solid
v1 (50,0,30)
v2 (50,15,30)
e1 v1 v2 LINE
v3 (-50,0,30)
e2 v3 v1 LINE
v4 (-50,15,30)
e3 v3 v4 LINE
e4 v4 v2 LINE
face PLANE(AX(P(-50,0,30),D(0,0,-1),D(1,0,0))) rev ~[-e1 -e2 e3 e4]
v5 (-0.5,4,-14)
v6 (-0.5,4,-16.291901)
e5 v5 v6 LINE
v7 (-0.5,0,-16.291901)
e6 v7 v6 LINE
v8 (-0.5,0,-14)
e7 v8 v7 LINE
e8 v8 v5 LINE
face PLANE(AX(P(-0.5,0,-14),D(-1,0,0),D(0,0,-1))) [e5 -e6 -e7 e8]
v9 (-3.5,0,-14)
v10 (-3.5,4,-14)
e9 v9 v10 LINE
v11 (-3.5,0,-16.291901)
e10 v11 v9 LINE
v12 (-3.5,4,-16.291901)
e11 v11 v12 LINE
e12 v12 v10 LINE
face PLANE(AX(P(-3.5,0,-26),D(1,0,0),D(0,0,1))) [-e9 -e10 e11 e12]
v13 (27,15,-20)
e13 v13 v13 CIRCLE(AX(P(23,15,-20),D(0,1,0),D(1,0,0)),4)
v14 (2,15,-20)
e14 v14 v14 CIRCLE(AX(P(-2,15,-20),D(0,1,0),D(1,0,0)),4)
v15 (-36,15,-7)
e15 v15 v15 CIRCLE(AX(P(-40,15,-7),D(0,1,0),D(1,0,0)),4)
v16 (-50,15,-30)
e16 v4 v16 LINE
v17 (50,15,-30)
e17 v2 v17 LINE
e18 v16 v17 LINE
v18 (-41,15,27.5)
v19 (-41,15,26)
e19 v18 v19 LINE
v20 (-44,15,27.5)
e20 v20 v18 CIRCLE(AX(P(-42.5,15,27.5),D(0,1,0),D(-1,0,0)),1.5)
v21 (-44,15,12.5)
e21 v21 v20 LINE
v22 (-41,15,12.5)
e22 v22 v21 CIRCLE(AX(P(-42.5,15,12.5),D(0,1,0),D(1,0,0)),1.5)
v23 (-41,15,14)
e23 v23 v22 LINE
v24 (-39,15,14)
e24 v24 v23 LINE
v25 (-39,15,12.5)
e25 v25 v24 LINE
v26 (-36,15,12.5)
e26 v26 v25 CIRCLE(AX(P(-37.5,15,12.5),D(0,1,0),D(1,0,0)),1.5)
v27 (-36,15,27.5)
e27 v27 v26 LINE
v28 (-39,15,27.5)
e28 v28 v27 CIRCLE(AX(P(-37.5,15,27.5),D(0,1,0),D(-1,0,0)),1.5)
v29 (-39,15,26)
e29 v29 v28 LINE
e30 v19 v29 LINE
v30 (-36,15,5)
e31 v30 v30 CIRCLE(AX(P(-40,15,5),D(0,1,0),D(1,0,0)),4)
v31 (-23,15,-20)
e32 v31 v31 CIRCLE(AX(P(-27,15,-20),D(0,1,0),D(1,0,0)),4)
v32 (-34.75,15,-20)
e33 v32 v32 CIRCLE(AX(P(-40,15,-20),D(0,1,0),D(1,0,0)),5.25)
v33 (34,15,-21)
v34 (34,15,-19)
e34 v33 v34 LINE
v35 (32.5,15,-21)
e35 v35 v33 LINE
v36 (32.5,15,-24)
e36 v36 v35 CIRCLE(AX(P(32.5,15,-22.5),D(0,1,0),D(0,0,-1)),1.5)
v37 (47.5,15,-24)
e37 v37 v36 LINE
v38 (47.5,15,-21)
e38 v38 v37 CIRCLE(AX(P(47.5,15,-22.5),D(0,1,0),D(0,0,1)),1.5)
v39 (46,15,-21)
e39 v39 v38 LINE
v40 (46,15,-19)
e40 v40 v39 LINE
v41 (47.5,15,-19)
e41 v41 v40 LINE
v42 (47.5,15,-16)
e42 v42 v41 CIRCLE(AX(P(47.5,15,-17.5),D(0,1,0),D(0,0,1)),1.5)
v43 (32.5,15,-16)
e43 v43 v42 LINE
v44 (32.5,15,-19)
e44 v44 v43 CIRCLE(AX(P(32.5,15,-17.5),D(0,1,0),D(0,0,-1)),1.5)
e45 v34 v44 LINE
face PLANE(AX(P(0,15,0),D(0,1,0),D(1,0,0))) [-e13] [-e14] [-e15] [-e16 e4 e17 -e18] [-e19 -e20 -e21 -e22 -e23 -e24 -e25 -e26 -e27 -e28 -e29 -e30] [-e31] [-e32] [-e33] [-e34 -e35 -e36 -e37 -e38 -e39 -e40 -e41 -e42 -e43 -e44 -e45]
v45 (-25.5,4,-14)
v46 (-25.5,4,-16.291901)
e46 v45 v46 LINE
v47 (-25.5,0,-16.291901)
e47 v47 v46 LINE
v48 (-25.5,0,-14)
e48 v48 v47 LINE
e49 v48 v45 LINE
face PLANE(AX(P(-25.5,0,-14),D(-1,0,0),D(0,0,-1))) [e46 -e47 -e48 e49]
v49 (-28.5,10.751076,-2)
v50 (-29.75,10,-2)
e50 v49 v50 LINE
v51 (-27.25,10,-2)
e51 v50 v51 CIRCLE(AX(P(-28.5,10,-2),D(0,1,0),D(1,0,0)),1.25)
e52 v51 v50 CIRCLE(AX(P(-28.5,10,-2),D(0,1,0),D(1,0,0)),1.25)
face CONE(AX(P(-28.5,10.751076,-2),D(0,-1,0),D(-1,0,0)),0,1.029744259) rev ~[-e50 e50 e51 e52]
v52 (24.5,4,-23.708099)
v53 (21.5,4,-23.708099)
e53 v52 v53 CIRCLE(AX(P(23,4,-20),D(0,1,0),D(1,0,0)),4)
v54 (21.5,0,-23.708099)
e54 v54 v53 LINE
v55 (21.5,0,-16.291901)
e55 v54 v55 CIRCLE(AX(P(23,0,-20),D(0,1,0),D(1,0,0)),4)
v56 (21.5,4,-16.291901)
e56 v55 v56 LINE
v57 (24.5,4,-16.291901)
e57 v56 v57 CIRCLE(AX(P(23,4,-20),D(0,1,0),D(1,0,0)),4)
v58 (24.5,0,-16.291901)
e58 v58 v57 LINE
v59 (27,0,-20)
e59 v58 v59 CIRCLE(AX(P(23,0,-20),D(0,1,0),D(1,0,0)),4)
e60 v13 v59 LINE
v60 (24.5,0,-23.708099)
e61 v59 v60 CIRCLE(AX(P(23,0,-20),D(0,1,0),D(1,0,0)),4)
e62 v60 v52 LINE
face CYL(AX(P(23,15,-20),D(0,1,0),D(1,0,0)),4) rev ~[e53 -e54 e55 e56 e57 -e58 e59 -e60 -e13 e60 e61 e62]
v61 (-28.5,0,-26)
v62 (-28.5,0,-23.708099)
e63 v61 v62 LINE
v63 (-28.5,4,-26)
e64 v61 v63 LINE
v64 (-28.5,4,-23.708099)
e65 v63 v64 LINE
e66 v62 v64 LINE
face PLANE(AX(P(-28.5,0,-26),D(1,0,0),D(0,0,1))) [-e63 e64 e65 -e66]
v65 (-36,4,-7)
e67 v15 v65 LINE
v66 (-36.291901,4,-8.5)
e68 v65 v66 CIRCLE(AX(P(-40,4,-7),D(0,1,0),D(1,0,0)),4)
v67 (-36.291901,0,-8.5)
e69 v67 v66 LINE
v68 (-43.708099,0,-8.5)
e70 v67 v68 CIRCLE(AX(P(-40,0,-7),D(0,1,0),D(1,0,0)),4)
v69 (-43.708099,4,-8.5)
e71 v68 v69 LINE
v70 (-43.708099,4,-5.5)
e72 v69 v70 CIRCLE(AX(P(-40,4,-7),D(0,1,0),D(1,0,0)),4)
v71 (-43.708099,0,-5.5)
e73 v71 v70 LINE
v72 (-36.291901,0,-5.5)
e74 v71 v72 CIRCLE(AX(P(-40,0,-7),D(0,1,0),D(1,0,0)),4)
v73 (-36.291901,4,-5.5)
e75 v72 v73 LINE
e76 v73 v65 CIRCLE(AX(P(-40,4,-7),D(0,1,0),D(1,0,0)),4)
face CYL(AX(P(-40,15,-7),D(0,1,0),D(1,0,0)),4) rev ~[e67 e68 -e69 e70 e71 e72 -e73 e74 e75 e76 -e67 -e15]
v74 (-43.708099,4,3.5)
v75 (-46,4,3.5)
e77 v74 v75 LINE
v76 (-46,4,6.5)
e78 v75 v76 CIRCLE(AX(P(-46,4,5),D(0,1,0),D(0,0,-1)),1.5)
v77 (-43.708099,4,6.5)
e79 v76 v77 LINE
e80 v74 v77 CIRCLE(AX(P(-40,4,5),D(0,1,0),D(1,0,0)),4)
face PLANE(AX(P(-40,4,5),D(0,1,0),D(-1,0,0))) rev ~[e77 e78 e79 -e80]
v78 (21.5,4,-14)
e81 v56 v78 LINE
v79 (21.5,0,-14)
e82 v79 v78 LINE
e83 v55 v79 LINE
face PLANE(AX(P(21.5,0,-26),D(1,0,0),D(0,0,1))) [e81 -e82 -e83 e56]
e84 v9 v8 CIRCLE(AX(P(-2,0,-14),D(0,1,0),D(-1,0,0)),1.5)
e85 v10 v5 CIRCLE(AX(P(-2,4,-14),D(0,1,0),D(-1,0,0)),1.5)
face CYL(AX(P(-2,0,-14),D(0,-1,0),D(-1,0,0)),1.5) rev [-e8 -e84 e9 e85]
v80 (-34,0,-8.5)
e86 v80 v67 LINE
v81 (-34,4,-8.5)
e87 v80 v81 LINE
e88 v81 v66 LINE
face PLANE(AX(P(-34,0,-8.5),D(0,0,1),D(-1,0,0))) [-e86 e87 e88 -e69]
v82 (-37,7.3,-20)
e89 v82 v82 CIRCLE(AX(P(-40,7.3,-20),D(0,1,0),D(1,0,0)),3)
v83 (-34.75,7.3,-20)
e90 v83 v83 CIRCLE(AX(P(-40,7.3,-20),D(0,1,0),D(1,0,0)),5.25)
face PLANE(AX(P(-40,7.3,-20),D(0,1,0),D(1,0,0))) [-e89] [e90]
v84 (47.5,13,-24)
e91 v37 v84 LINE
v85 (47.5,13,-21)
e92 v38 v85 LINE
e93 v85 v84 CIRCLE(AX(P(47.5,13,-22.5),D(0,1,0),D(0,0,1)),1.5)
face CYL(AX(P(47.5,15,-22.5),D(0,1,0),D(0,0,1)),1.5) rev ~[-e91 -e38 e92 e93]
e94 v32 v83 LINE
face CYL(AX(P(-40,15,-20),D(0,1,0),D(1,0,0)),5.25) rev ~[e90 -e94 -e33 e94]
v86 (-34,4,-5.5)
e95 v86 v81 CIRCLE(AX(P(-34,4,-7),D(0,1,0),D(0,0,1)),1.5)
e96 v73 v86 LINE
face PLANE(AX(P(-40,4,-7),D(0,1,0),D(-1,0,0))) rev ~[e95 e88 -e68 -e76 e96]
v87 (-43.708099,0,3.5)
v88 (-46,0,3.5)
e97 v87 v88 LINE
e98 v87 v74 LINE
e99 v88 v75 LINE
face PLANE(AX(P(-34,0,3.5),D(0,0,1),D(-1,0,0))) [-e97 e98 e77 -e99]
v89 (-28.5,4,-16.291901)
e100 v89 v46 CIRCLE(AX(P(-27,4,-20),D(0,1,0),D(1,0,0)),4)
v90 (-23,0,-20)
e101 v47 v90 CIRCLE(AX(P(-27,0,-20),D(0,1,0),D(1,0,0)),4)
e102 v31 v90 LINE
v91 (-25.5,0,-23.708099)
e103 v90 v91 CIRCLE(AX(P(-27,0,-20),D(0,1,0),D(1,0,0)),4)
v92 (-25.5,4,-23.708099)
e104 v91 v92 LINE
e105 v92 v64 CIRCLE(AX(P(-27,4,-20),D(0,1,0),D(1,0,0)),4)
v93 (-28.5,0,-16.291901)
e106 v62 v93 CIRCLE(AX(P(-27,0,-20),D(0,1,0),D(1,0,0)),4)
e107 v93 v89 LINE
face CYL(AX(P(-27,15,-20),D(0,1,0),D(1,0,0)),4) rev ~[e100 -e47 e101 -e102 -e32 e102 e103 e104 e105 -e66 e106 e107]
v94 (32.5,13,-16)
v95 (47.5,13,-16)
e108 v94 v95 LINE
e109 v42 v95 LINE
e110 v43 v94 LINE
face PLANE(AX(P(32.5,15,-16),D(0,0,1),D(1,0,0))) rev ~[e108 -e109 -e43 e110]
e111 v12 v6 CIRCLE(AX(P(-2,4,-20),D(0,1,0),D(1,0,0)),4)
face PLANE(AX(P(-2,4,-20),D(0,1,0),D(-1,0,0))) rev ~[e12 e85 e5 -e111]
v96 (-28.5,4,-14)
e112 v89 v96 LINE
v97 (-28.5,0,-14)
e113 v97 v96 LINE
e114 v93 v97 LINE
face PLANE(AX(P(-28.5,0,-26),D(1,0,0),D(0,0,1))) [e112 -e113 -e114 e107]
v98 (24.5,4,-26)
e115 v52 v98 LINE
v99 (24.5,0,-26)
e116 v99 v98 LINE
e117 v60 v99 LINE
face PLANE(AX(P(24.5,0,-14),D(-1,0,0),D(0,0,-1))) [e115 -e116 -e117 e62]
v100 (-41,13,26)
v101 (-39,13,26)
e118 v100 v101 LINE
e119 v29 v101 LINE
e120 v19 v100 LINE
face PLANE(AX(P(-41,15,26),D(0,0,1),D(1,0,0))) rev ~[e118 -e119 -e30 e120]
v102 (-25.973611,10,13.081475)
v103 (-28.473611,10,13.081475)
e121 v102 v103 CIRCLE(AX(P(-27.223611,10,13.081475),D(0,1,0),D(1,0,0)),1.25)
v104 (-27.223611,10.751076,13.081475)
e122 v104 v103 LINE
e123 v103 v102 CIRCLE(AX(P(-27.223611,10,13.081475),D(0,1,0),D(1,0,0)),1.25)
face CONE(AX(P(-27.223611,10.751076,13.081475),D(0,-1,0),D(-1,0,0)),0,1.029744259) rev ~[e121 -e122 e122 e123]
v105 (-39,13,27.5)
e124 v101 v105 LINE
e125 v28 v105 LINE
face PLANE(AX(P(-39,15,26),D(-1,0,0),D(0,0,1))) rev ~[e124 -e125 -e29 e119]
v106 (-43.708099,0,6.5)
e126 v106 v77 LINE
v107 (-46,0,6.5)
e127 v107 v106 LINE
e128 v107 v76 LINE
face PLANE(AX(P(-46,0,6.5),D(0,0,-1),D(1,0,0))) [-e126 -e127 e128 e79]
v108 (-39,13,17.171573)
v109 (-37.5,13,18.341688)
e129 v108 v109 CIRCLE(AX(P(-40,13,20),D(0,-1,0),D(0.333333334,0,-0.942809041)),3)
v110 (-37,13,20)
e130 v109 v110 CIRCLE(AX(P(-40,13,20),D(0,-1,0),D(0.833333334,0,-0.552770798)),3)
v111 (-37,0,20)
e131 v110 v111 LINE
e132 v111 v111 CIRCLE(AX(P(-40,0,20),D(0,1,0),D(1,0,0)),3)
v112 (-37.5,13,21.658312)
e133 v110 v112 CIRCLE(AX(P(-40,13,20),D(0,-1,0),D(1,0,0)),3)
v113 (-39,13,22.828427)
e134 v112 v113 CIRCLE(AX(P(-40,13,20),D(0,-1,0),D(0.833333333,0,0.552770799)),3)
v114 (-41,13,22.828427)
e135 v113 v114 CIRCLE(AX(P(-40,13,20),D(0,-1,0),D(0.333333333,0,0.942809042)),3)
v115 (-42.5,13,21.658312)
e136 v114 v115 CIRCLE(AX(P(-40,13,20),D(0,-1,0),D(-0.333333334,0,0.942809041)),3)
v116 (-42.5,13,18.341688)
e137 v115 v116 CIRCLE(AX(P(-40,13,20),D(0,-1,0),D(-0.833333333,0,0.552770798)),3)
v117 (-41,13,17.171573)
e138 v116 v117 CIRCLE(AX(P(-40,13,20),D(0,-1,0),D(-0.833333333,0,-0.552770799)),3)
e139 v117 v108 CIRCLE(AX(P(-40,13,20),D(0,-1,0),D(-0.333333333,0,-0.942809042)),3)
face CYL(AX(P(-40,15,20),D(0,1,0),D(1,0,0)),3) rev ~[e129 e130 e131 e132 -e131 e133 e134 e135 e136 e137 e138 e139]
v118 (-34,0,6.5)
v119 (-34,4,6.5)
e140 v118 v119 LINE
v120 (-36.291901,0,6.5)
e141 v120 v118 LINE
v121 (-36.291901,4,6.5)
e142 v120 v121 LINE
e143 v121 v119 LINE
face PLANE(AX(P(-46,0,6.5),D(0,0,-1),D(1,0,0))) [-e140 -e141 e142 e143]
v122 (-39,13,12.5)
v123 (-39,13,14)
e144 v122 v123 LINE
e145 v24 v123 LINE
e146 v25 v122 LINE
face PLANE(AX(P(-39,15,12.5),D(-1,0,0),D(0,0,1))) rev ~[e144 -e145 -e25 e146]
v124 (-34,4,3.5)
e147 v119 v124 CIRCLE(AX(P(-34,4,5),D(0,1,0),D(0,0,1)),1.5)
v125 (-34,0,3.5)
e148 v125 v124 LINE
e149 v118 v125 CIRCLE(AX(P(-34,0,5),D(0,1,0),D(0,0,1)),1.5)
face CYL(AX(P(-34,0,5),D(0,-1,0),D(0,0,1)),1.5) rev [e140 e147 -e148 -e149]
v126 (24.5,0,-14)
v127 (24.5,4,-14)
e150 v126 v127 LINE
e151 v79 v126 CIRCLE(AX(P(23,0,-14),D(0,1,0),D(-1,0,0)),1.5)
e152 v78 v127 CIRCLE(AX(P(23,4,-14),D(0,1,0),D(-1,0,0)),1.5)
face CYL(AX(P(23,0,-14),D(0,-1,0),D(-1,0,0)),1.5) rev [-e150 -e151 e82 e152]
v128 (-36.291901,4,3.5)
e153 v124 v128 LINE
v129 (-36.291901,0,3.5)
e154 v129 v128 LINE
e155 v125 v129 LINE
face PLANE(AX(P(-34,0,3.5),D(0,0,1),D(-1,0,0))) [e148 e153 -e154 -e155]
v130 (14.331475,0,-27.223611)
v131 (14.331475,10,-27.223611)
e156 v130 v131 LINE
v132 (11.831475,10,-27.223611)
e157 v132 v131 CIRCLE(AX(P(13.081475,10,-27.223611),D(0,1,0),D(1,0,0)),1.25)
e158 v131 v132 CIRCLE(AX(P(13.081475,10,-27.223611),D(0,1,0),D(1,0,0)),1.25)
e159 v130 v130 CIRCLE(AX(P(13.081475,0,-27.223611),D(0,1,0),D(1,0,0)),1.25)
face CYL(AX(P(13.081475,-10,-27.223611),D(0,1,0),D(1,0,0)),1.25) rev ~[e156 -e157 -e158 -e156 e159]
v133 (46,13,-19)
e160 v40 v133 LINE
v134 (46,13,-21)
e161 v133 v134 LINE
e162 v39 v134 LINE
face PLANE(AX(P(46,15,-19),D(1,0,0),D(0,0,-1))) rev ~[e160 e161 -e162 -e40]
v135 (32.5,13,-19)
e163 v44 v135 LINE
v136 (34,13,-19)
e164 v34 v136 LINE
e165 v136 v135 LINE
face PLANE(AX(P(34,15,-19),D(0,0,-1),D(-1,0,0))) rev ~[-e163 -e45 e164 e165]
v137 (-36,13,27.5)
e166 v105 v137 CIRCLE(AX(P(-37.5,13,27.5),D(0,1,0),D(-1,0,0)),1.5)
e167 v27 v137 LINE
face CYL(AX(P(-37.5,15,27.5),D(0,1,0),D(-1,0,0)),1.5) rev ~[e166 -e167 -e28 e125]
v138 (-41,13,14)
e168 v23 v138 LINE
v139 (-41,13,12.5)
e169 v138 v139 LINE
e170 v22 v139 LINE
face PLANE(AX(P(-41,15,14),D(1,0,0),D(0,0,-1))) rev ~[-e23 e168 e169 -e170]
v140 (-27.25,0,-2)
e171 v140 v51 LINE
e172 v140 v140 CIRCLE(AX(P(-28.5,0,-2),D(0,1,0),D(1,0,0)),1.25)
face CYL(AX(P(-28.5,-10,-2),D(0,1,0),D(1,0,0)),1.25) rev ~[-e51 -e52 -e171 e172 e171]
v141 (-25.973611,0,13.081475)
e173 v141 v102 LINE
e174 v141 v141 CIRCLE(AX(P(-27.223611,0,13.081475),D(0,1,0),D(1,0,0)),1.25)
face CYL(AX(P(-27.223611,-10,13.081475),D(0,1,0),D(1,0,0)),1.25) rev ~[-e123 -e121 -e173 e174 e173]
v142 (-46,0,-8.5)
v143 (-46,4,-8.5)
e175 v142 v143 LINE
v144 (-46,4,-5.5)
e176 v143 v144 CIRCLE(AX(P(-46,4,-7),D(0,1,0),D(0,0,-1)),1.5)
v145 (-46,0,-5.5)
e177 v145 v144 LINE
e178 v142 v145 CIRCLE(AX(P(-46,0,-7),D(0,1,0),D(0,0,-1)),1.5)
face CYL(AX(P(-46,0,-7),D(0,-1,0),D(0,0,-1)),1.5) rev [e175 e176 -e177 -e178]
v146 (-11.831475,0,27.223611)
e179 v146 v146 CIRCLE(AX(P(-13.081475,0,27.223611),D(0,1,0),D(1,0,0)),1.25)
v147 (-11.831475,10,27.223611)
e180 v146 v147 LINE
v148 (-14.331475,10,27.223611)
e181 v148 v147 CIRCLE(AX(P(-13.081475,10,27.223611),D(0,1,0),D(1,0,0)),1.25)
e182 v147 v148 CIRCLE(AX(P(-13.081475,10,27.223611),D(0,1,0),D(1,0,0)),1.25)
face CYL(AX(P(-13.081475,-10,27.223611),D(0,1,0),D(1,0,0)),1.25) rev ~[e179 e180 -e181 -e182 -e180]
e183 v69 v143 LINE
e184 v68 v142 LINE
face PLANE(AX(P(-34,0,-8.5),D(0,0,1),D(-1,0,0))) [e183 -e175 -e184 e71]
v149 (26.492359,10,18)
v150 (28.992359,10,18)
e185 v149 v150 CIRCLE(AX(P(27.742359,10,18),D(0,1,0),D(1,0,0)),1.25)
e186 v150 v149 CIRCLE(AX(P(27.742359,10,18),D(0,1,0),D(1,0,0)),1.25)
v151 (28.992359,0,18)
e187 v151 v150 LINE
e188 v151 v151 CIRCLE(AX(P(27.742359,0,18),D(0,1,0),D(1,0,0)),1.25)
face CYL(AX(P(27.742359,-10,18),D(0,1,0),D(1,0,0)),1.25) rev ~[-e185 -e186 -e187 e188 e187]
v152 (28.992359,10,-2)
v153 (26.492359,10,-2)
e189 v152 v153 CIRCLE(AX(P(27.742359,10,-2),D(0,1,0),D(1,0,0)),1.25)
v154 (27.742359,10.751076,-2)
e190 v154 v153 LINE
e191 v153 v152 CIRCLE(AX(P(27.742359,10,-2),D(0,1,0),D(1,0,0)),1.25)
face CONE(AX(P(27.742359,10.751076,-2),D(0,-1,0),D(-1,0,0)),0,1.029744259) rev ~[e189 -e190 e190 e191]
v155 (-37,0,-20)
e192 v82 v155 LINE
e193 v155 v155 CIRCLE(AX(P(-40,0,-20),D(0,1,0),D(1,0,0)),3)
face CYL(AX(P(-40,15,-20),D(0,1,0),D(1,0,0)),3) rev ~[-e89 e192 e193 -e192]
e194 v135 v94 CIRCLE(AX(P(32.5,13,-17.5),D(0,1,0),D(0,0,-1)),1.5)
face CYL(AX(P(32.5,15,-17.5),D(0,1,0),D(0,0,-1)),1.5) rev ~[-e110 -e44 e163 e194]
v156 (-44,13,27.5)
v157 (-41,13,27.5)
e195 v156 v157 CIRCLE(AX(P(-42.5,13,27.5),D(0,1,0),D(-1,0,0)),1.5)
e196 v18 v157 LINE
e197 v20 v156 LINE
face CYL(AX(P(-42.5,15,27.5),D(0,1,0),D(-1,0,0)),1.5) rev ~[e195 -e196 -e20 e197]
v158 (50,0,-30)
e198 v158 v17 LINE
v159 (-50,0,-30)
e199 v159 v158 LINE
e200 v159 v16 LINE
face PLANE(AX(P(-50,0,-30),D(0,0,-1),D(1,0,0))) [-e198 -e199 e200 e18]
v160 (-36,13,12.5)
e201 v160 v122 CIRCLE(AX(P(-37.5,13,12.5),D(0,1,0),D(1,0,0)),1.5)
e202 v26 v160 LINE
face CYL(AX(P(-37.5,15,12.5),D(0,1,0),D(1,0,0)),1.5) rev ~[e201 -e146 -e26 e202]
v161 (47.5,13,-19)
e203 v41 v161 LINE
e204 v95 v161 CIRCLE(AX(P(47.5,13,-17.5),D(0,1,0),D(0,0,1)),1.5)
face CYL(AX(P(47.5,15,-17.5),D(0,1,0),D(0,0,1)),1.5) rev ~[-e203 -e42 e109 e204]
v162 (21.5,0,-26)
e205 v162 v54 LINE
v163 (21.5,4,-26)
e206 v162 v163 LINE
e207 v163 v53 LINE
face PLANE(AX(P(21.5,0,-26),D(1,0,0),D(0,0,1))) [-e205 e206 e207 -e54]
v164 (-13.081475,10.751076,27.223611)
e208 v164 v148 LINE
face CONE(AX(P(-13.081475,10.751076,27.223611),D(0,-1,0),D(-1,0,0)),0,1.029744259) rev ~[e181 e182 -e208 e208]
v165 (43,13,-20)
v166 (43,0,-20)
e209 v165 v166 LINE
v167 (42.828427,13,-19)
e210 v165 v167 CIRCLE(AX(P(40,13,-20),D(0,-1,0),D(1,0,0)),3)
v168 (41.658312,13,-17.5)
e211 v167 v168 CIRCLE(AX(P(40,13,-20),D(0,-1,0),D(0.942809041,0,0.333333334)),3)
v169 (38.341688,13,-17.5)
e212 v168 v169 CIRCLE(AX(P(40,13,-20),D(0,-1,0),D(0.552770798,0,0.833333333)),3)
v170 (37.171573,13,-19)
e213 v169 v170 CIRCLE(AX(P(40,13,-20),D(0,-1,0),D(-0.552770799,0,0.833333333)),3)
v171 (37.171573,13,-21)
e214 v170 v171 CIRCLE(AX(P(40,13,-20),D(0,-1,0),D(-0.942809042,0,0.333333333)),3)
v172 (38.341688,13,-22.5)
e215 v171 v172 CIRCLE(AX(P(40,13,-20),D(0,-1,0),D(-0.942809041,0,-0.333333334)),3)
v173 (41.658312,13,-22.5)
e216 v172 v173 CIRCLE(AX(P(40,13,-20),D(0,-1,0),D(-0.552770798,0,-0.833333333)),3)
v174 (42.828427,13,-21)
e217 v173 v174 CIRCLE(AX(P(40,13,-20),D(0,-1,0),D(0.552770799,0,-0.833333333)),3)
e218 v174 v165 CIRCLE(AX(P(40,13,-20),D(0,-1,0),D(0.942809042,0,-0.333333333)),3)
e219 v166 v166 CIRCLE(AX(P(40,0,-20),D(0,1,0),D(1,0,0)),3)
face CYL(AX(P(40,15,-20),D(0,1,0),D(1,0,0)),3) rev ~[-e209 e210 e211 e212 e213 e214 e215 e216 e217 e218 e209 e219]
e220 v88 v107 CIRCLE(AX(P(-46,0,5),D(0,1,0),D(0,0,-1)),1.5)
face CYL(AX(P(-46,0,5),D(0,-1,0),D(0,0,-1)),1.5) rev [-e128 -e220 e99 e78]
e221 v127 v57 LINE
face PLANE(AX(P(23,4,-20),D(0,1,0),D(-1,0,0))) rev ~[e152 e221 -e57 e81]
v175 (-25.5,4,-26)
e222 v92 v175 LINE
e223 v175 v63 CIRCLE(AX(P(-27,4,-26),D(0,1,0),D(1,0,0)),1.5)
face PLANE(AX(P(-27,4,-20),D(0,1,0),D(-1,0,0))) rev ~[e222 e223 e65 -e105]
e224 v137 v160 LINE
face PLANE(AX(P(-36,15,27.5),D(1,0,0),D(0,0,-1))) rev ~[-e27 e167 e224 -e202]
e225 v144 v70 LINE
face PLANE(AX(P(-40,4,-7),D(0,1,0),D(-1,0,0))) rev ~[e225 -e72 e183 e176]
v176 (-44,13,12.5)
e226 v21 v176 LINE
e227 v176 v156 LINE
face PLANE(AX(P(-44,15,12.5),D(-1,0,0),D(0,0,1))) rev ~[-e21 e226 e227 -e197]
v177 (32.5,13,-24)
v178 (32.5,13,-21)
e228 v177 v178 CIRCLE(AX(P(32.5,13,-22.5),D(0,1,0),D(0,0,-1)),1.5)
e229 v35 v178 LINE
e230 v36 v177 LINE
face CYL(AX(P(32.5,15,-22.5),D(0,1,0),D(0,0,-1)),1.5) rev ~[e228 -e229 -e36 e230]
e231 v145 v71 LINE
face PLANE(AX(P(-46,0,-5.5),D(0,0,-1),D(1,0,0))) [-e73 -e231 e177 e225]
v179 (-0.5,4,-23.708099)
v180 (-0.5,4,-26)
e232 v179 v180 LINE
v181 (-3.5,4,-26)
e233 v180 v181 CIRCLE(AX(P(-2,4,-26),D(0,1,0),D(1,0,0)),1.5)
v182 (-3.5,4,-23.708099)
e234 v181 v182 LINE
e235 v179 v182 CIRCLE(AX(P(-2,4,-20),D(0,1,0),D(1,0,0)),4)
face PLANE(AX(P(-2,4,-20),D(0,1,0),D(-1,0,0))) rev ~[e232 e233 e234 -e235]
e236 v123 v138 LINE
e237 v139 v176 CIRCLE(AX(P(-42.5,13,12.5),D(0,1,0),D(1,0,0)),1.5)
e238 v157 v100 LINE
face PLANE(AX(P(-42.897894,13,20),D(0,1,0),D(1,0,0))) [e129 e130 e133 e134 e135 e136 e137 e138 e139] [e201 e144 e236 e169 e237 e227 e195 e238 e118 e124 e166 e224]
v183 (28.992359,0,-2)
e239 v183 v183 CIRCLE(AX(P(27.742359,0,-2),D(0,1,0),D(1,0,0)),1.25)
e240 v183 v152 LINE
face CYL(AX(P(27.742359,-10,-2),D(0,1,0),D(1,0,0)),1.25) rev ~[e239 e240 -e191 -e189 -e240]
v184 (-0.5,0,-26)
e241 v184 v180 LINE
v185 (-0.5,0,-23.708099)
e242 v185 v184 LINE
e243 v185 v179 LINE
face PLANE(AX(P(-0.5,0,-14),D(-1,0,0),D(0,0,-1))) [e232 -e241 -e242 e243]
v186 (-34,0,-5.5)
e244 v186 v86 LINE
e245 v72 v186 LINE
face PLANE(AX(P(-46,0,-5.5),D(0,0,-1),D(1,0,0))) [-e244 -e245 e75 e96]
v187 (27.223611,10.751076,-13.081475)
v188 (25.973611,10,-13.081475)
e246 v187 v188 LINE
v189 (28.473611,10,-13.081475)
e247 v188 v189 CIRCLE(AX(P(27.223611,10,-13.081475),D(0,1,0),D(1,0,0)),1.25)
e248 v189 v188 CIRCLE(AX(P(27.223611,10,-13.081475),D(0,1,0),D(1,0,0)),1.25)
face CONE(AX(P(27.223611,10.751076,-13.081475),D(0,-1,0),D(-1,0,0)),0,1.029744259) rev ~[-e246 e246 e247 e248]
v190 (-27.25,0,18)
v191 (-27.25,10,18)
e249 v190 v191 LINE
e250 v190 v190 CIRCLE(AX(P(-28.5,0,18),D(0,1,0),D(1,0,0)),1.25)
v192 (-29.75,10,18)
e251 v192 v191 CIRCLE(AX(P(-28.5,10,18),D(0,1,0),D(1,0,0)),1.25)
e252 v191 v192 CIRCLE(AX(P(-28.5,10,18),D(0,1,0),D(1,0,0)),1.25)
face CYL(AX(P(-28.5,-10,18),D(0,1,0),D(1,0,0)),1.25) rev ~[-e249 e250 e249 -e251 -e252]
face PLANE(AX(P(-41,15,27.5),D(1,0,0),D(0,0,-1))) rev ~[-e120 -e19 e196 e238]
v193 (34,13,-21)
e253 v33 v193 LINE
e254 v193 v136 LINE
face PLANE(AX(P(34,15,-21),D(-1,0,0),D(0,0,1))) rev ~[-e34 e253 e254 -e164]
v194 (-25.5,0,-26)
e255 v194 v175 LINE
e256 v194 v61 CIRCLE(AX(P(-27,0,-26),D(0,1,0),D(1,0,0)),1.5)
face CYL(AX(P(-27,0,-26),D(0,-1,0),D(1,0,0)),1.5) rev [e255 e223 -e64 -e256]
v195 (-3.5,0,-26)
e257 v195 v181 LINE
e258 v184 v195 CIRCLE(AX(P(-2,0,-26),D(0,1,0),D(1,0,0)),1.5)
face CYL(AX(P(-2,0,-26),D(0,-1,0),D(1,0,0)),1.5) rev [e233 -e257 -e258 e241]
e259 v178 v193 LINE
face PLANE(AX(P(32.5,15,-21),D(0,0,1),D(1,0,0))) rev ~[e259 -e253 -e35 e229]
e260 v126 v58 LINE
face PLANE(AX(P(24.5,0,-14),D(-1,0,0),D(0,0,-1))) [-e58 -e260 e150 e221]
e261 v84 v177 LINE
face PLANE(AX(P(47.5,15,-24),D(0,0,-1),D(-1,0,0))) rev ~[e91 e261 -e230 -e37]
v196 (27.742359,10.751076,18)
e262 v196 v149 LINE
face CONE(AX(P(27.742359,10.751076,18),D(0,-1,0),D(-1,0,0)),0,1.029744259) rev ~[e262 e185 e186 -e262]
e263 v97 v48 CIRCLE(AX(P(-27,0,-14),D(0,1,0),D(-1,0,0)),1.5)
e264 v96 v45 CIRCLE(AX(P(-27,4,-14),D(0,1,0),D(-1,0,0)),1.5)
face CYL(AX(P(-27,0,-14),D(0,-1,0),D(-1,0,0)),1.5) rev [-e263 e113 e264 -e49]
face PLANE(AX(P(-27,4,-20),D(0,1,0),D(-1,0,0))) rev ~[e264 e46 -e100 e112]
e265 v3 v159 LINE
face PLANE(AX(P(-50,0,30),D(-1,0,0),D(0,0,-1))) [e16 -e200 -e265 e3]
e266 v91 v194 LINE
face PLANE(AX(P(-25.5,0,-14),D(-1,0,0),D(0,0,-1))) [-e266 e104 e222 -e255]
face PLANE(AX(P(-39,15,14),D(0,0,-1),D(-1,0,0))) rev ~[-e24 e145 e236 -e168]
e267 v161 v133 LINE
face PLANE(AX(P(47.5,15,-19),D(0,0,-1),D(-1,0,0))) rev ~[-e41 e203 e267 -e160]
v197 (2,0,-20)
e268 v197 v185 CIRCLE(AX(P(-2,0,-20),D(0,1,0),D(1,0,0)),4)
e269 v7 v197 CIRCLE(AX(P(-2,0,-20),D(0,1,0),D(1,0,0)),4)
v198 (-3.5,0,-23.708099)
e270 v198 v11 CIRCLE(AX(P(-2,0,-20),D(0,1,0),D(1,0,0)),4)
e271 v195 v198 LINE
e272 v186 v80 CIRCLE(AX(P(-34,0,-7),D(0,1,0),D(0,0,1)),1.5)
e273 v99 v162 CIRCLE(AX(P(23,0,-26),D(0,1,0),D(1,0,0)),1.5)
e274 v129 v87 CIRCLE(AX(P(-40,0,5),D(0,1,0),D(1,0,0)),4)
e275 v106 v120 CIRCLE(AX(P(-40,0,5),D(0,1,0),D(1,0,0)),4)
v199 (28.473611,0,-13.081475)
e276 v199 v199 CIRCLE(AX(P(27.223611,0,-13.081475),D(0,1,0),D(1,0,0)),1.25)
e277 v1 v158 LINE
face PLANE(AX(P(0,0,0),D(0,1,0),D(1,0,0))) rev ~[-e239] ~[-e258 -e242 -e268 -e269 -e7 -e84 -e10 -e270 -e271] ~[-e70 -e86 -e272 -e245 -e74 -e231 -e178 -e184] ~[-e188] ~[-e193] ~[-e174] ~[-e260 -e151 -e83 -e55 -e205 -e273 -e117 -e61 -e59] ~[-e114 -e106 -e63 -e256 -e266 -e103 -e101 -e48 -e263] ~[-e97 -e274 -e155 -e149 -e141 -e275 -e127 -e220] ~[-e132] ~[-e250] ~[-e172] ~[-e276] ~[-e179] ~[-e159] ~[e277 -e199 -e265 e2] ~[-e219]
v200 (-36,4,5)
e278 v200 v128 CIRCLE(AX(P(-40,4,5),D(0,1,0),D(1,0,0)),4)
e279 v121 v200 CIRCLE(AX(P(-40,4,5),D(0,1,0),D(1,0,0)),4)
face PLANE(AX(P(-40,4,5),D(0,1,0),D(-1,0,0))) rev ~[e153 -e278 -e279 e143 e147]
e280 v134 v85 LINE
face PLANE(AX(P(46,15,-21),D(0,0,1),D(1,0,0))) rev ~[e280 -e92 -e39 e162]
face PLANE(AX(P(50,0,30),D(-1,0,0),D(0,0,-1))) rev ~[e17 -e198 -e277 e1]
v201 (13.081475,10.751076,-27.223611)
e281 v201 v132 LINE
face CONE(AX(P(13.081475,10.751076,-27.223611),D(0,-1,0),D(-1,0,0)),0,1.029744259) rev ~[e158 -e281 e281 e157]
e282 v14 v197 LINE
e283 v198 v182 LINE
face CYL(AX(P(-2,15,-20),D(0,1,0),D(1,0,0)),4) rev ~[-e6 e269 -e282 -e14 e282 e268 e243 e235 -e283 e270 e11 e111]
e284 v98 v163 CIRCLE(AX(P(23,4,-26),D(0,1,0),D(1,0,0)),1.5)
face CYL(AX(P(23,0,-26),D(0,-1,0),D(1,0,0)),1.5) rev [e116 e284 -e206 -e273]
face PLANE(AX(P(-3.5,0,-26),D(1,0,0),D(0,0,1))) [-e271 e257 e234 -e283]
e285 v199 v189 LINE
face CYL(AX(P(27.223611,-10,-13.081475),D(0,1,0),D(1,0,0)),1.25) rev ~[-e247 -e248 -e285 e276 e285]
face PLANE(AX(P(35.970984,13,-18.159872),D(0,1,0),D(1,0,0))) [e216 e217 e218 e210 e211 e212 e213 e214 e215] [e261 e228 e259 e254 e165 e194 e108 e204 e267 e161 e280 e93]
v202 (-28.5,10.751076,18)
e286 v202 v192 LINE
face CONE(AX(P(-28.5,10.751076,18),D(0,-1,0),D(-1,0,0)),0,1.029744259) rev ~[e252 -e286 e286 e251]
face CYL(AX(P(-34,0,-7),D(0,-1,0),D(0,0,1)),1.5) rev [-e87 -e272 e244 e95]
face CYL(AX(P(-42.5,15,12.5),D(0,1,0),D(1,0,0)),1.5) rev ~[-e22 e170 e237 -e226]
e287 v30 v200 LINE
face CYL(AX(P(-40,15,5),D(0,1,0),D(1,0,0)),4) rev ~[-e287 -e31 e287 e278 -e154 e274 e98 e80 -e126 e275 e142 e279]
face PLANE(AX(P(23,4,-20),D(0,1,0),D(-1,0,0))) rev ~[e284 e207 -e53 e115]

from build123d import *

# Parameters (mm, degrees)
SKETCH1_W             = 100
SKETCH1_H             = 60
BOSS_EXTRUDE1_DEPTH   = 15
CUT_EXTRUDE1_REACH    = 17
SKETCH4_R             = 3
SKETCH5_R             = 5.25
CUT_EXTRUDE2_DEPTH    = 7.7
CUT_EXTRUDE3_REACH    = 17
SKETCH6_R             = 4
CUT_EXTRUDE4_DEPTH    = 4
CUT_EXTRUDE5_REACH    = 17
SKETCH8_R             = 3
CUT_EXTRUDE6_DEPTH    = 2
M3_TAPPED_HOLE1_D     = 2.5
M3_TAPPED_HOLE1_DEPTH = 10
M3_TAPPED_HOLE1_TIP   = 0.751075774


with BuildPart() as part:
    # Sketch1 → Boss-Extrude1 (new body)
    with BuildSketch(Plane(origin=(0, 0, 0), x_dir=(1, 0, 0), z_dir=(0, 1, 0))):
        Rectangle(SKETCH1_W, SKETCH1_H)
    extrude(amount=BOSS_EXTRUDE1_DEPTH)

    # Sketch4 → Cut-Extrude1 (cut, up to next)
    with BuildSketch(Plane(origin=(0, 15, 0), x_dir=(1, 0, 0), z_dir=(0, 1, 0)), mode=Mode.PRIVATE) as cut_extrude1_sk1:
        with Locations((-40, 20)):
            Circle(SKETCH4_R)
    cut_extrude1_tool1 = extrude(cut_extrude1_sk1.sketch, amount=-CUT_EXTRUDE1_REACH, mode=Mode.PRIVATE) & part.part
    add(cut_extrude1_tool1.solids().sort_by_distance((-40, 15, -20))[0], mode=Mode.SUBTRACT)

    # Sketch5 → Cut-Extrude2 (cut)
    with BuildSketch(Plane(origin=(0, 15, 0), x_dir=(1, 0, 0), z_dir=(0, 1, 0))):
        with Locations((-40, 20)):
            Circle(SKETCH5_R)
    extrude(amount=-CUT_EXTRUDE2_DEPTH, mode=Mode.SUBTRACT)

    # Sketch6 → Cut-Extrude3 (cut, up to next)
    with BuildSketch(Plane(origin=(0, 15, 0), x_dir=(1, 0, 0), z_dir=(0, 1, 0)), mode=Mode.PRIVATE) as cut_extrude3_sk1:
        with Locations((-40, 7)):
            Circle(SKETCH6_R)
    cut_extrude3_tool1 = extrude(cut_extrude3_sk1.sketch, amount=-CUT_EXTRUDE3_REACH, mode=Mode.PRIVATE) & part.part
    add(cut_extrude3_tool1.solids().sort_by_distance((-40, 15, -7))[0], mode=Mode.SUBTRACT)
    # Sketch6 → Cut-Extrude3 (cut, up to next)
    with BuildSketch(Plane(origin=(0, 15, 0), x_dir=(1, 0, 0), z_dir=(0, 1, 0)), mode=Mode.PRIVATE) as cut_extrude3_sk2:
        with Locations((-40, -5)):
            Circle(SKETCH6_R)
    cut_extrude3_tool2 = extrude(cut_extrude3_sk2.sketch, amount=-CUT_EXTRUDE3_REACH, mode=Mode.PRIVATE) & part.part
    add(cut_extrude3_tool2.solids().sort_by_distance((-40, 15, 5))[0], mode=Mode.SUBTRACT)
    # Sketch6 → Cut-Extrude3 (cut, up to next)
    with BuildSketch(Plane(origin=(0, 15, 0), x_dir=(1, 0, 0), z_dir=(0, 1, 0)), mode=Mode.PRIVATE) as cut_extrude3_sk3:
        with Locations((-27, 20)):
            Circle(SKETCH6_R)
    cut_extrude3_tool3 = extrude(cut_extrude3_sk3.sketch, amount=-CUT_EXTRUDE3_REACH, mode=Mode.PRIVATE) & part.part
    add(cut_extrude3_tool3.solids().sort_by_distance((-27, 15, -20))[0], mode=Mode.SUBTRACT)
    # Sketch6 → Cut-Extrude3 (cut, up to next)
    with BuildSketch(Plane(origin=(0, 15, 0), x_dir=(1, 0, 0), z_dir=(0, 1, 0)), mode=Mode.PRIVATE) as cut_extrude3_sk4:
        with Locations((-2, 20)):
            Circle(SKETCH6_R)
    cut_extrude3_tool4 = extrude(cut_extrude3_sk4.sketch, amount=-CUT_EXTRUDE3_REACH, mode=Mode.PRIVATE) & part.part
    add(cut_extrude3_tool4.solids().sort_by_distance((-2, 15, -20))[0], mode=Mode.SUBTRACT)
    # Sketch6 → Cut-Extrude3 (cut, up to next)
    with BuildSketch(Plane(origin=(0, 15, 0), x_dir=(1, 0, 0), z_dir=(0, 1, 0)), mode=Mode.PRIVATE) as cut_extrude3_sk5:
        with Locations((23, 20)):
            Circle(SKETCH6_R)
    cut_extrude3_tool5 = extrude(cut_extrude3_sk5.sketch, amount=-CUT_EXTRUDE3_REACH, mode=Mode.PRIVATE) & part.part
    add(cut_extrude3_tool5.solids().sort_by_distance((23, 15, -20))[0], mode=Mode.SUBTRACT)

    # Sketch7 → Cut-Extrude4 (cut)
    with BuildSketch(Plane.XZ):
        with BuildLine():
            Line((-46, 6.5), (-34, 6.5))
            ThreePointArc((-34, 6.5), (-32.5, 5), (-34, 3.5))
            Line((-34, 3.5), (-46, 3.5))
            ThreePointArc((-46, 3.5), (-47.5, 5), (-46, 6.5))
        make_face()
        with BuildLine():
            Line((-46, -5.5), (-34, -5.5))
            ThreePointArc((-34, -5.5), (-32.5, -7), (-34, -8.5))
            Line((-34, -8.5), (-46, -8.5))
            ThreePointArc((-46, -8.5), (-47.5, -7), (-46, -5.5))
        make_face()
        with BuildLine():
            Line((-28.5, -26), (-28.5, -14))
            ThreePointArc((-28.5, -14), (-27, -12.5), (-25.5, -14))
            Line((-25.5, -14), (-25.5, -26))
            ThreePointArc((-25.5, -26), (-27, -27.5), (-28.5, -26))
        make_face()
        with BuildLine():
            Line((-3.5, -26), (-3.5, -14))
            ThreePointArc((-3.5, -14), (-2, -12.5), (-0.5, -14))
            Line((-0.5, -14), (-0.5, -26))
            ThreePointArc((-0.5, -26), (-2, -27.5), (-3.5, -26))
        make_face()
        with BuildLine():
            Line((21.5, -26), (21.5, -14))
            ThreePointArc((21.5, -14), (23, -12.5), (24.5, -14))
            Line((24.5, -14), (24.5, -26))
            ThreePointArc((24.5, -26), (23, -27.5), (21.5, -26))
        make_face()
    extrude(amount=-CUT_EXTRUDE4_DEPTH, mode=Mode.SUBTRACT)

    # Sketch8 → Cut-Extrude5 (cut, up to next)
    with BuildSketch(Plane(origin=(0, 15, 0), x_dir=(1, 0, 0), z_dir=(0, 1, 0)), mode=Mode.PRIVATE) as cut_extrude5_sk1:
        with Locations((40, 20)):
            Circle(SKETCH8_R)
    cut_extrude5_tool1 = extrude(cut_extrude5_sk1.sketch, amount=-CUT_EXTRUDE5_REACH, mode=Mode.PRIVATE) & part.part
    add(cut_extrude5_tool1.solids().sort_by_distance((40, 15, -20))[0], mode=Mode.SUBTRACT)
    # Sketch8 → Cut-Extrude5 (cut, up to next)
    with BuildSketch(Plane(origin=(0, 15, 0), x_dir=(1, 0, 0), z_dir=(0, 1, 0)), mode=Mode.PRIVATE) as cut_extrude5_sk2:
        with Locations((-40, -20)):
            Circle(SKETCH8_R)
    cut_extrude5_tool2 = extrude(cut_extrude5_sk2.sketch, amount=-CUT_EXTRUDE5_REACH, mode=Mode.PRIVATE) & part.part
    add(cut_extrude5_tool2.solids().sort_by_distance((-40, 15, 20))[0], mode=Mode.SUBTRACT)

    # Sketch9 → Cut-Extrude6 (cut)
    with BuildSketch(Plane(origin=(0, 15, 0), x_dir=(1, 0, 0), z_dir=(0, 1, 0))):
        with BuildLine():
            Line((-41, -26), (-42.5, -26))
            Line((-42.5, -26), (-42.5, -21.658312395))
            ThreePointArc((-42.5, -21.658312395), (-43, -20), (-42.5, -18.341687605))
            Line((-42.5, -18.341687605), (-42.5, -14))
            Line((-42.5, -14), (-41, -14))
            Line((-41, -14), (-41, -12.5))
            ThreePointArc((-41, -12.5), (-42.5, -11), (-44, -12.5))
            Line((-44, -12.5), (-44, -27.5))
            ThreePointArc((-44, -27.5), (-42.5, -29), (-41, -27.5))
            Line((-41, -27.5), (-41, -26))
        make_face()
        with BuildLine():
            Line((-41, -14), (-41, -17.171572875))
            ThreePointArc((-41, -17.171572875), (-40, -17), (-39, -17.171572875))
            Line((-39, -17.171572875), (-39, -14))
            Line((-39, -14), (-41, -14))
        make_face()
        with BuildLine():
            Line((-42.5, -21.658312395), (-42.5, -26))
            Line((-42.5, -26), (-41, -26))
            Line((-41, -26), (-41, -22.828427125))
            ThreePointArc((-41, -22.828427125), (-41.84520788, -22.365419176), (-42.5, -21.658312395))
        make_face()
        with BuildLine():
            Line((-41, -22.828427125), (-41, -26))
            Line((-41, -26), (-39, -26))
            Line((-39, -26), (-39, -22.828427125))
            ThreePointArc((-39, -22.828427125), (-40, -23), (-41, -22.828427125))
        make_face()
        with BuildLine():
            Line((-39, -22.828427125), (-39, -26))
            Line((-39, -26), (-37.5, -26))
            Line((-37.5, -26), (-37.5, -21.658312395))
            ThreePointArc((-37.5, -21.658312395), (-38.15479212, -22.365419176), (-39, -22.828427125))
        make_face()
        with BuildLine():
            Line((-37.5, -26), (-39, -26))
            Line((-39, -26), (-39, -27.5))
            ThreePointArc((-39, -27.5), (-37.5, -29), (-36, -27.5))
            Line((-36, -27.5), (-36, -12.5))
            ThreePointArc((-36, -12.5), (-37.5, -11), (-39, -12.5))
            Line((-39, -12.5), (-39, -14))
            Line((-39, -14), (-37.5, -14))
            Line((-37.5, -14), (-37.5, -18.341687605))
            ThreePointArc((-37.5, -18.341687605), (-37.127718677, -19.133974596), (-37, -20))
            ThreePointArc((-37, -20), (-37.127718677, -20.866025404), (-37.5, -21.658312395))
            Line((-37.5, -21.658312395), (-37.5, -26))
        make_face()
        with BuildLine():
            Line((-39, -14), (-39, -17.171572875))
            ThreePointArc((-39, -17.171572875), (-38.15479212, -17.634580824), (-37.5, -18.341687605))
            Line((-37.5, -18.341687605), (-37.5, -14))
            Line((-37.5, -14), (-39, -14))
        make_face()
        with BuildLine():
            Line((-42.5, -14), (-42.5, -18.341687605))
            ThreePointArc((-42.5, -18.341687605), (-41.84520788, -17.634580824), (-41, -17.171572875))
            Line((-41, -17.171572875), (-41, -14))
            Line((-41, -14), (-42.5, -14))
        make_face()
        with BuildLine():
            Line((34, 19), (34, 17.5))
            Line((34, 17.5), (38.341687605, 17.5))
            ThreePointArc((38.341687605, 17.5), (37.634580824, 18.15479212), (37.171572875, 19))
            Line((37.171572875, 19), (34, 19))
        make_face()
        with BuildLine():
            ThreePointArc((42.828427125, 19), (42.365419176, 18.15479212), (41.658312395, 17.5))
            Line((41.658312395, 17.5), (46, 17.5))
            Line((46, 17.5), (46, 19))
            Line((46, 19), (42.828427125, 19))
        make_face()
        with BuildLine():
            Line((38.341687605, 17.5), (34, 17.5))
            Line((34, 17.5), (34, 19))
            Line((34, 19), (32.5, 19))
            ThreePointArc((32.5, 19), (31, 17.5), (32.5, 16))
            Line((32.5, 16), (47.5, 16))
            ThreePointArc((47.5, 16), (49, 17.5), (47.5, 19))
            Line((47.5, 19), (46, 19))
            Line((46, 19), (46, 17.5))
            Line((46, 17.5), (41.658312395, 17.5))
            ThreePointArc((41.658312395, 17.5), (40, 17), (38.341687605, 17.5))
        make_face()
        with BuildLine():
            ThreePointArc((41.658312395, 22.5), (42.365419176, 21.84520788), (42.828427125, 21))
            Line((42.828427125, 21), (46, 21))
            Line((46, 21), (46, 22.5))
            Line((46, 22.5), (41.658312395, 22.5))
        make_face()
        with BuildLine():
            ThreePointArc((43, 20), (42.956795679, 19.492694064), (42.828427125, 19))
            Line((42.828427125, 19), (46, 19))
            Line((46, 19), (46, 21))
            Line((46, 21), (42.828427125, 21))
            ThreePointArc((42.828427125, 21), (42.956795679, 20.507305936), (43, 20))
        make_face()
        with BuildLine():
            Line((34, 21), (34, 19))
            Line((34, 19), (37.171572875, 19))
            ThreePointArc((37.171572875, 19), (37, 20), (37.171572875, 21))
            Line((37.171572875, 21), (34, 21))
        make_face()
        with BuildLine():
            Line((34, 22.5), (34, 21))
            Line((34, 21), (37.171572875, 21))
            ThreePointArc((37.171572875, 21), (37.634580824, 21.84520788), (38.341687605, 22.5))
            Line((38.341687605, 22.5), (34, 22.5))
        make_face()
        with BuildLine():
            Line((32.5, 21), (34, 21))
            Line((34, 21), (34, 22.5))
            Line((34, 22.5), (38.341687605, 22.5))
            ThreePointArc((38.341687605, 22.5), (40, 23), (41.658312395, 22.5))
            Line((41.658312395, 22.5), (46, 22.5))
            Line((46, 22.5), (46, 21))
            Line((46, 21), (47.5, 21))
            ThreePointArc((47.5, 21), (49, 22.5), (47.5, 24))
            Line((47.5, 24), (32.5, 24))
            ThreePointArc((32.5, 24), (31, 22.5), (32.5, 21))
        make_face()
    extrude(amount=-CUT_EXTRUDE6_DEPTH, mode=Mode.SUBTRACT)

    # M3 Tapped Hole1
    with Locations(Plane(origin=(0, 0, 0), x_dir=(-1, 0, 0), z_dir=(0, -1, 0))):
        with Locations((28.5, -18), (27.223611076, -13.081475452), (28.5, 2), (-27.742358719, -18), (-27.742358719, 2), (-27.223611076, 13.081475452), (-13.081475452, 27.223611076), (13.081475452, -27.223611076)):
            Hole(M3_TAPPED_HOLE1_D / 2, depth=M3_TAPPED_HOLE1_DEPTH)
            with Locations((0, 0, -(M3_TAPPED_HOLE1_DEPTH + M3_TAPPED_HOLE1_TIP / 2))):  # 118° drill point
                Cone(0, M3_TAPPED_HOLE1_D / 2, M3_TAPPED_HOLE1_TIP, mode=Mode.SUBTRACT)


solid = part.part
